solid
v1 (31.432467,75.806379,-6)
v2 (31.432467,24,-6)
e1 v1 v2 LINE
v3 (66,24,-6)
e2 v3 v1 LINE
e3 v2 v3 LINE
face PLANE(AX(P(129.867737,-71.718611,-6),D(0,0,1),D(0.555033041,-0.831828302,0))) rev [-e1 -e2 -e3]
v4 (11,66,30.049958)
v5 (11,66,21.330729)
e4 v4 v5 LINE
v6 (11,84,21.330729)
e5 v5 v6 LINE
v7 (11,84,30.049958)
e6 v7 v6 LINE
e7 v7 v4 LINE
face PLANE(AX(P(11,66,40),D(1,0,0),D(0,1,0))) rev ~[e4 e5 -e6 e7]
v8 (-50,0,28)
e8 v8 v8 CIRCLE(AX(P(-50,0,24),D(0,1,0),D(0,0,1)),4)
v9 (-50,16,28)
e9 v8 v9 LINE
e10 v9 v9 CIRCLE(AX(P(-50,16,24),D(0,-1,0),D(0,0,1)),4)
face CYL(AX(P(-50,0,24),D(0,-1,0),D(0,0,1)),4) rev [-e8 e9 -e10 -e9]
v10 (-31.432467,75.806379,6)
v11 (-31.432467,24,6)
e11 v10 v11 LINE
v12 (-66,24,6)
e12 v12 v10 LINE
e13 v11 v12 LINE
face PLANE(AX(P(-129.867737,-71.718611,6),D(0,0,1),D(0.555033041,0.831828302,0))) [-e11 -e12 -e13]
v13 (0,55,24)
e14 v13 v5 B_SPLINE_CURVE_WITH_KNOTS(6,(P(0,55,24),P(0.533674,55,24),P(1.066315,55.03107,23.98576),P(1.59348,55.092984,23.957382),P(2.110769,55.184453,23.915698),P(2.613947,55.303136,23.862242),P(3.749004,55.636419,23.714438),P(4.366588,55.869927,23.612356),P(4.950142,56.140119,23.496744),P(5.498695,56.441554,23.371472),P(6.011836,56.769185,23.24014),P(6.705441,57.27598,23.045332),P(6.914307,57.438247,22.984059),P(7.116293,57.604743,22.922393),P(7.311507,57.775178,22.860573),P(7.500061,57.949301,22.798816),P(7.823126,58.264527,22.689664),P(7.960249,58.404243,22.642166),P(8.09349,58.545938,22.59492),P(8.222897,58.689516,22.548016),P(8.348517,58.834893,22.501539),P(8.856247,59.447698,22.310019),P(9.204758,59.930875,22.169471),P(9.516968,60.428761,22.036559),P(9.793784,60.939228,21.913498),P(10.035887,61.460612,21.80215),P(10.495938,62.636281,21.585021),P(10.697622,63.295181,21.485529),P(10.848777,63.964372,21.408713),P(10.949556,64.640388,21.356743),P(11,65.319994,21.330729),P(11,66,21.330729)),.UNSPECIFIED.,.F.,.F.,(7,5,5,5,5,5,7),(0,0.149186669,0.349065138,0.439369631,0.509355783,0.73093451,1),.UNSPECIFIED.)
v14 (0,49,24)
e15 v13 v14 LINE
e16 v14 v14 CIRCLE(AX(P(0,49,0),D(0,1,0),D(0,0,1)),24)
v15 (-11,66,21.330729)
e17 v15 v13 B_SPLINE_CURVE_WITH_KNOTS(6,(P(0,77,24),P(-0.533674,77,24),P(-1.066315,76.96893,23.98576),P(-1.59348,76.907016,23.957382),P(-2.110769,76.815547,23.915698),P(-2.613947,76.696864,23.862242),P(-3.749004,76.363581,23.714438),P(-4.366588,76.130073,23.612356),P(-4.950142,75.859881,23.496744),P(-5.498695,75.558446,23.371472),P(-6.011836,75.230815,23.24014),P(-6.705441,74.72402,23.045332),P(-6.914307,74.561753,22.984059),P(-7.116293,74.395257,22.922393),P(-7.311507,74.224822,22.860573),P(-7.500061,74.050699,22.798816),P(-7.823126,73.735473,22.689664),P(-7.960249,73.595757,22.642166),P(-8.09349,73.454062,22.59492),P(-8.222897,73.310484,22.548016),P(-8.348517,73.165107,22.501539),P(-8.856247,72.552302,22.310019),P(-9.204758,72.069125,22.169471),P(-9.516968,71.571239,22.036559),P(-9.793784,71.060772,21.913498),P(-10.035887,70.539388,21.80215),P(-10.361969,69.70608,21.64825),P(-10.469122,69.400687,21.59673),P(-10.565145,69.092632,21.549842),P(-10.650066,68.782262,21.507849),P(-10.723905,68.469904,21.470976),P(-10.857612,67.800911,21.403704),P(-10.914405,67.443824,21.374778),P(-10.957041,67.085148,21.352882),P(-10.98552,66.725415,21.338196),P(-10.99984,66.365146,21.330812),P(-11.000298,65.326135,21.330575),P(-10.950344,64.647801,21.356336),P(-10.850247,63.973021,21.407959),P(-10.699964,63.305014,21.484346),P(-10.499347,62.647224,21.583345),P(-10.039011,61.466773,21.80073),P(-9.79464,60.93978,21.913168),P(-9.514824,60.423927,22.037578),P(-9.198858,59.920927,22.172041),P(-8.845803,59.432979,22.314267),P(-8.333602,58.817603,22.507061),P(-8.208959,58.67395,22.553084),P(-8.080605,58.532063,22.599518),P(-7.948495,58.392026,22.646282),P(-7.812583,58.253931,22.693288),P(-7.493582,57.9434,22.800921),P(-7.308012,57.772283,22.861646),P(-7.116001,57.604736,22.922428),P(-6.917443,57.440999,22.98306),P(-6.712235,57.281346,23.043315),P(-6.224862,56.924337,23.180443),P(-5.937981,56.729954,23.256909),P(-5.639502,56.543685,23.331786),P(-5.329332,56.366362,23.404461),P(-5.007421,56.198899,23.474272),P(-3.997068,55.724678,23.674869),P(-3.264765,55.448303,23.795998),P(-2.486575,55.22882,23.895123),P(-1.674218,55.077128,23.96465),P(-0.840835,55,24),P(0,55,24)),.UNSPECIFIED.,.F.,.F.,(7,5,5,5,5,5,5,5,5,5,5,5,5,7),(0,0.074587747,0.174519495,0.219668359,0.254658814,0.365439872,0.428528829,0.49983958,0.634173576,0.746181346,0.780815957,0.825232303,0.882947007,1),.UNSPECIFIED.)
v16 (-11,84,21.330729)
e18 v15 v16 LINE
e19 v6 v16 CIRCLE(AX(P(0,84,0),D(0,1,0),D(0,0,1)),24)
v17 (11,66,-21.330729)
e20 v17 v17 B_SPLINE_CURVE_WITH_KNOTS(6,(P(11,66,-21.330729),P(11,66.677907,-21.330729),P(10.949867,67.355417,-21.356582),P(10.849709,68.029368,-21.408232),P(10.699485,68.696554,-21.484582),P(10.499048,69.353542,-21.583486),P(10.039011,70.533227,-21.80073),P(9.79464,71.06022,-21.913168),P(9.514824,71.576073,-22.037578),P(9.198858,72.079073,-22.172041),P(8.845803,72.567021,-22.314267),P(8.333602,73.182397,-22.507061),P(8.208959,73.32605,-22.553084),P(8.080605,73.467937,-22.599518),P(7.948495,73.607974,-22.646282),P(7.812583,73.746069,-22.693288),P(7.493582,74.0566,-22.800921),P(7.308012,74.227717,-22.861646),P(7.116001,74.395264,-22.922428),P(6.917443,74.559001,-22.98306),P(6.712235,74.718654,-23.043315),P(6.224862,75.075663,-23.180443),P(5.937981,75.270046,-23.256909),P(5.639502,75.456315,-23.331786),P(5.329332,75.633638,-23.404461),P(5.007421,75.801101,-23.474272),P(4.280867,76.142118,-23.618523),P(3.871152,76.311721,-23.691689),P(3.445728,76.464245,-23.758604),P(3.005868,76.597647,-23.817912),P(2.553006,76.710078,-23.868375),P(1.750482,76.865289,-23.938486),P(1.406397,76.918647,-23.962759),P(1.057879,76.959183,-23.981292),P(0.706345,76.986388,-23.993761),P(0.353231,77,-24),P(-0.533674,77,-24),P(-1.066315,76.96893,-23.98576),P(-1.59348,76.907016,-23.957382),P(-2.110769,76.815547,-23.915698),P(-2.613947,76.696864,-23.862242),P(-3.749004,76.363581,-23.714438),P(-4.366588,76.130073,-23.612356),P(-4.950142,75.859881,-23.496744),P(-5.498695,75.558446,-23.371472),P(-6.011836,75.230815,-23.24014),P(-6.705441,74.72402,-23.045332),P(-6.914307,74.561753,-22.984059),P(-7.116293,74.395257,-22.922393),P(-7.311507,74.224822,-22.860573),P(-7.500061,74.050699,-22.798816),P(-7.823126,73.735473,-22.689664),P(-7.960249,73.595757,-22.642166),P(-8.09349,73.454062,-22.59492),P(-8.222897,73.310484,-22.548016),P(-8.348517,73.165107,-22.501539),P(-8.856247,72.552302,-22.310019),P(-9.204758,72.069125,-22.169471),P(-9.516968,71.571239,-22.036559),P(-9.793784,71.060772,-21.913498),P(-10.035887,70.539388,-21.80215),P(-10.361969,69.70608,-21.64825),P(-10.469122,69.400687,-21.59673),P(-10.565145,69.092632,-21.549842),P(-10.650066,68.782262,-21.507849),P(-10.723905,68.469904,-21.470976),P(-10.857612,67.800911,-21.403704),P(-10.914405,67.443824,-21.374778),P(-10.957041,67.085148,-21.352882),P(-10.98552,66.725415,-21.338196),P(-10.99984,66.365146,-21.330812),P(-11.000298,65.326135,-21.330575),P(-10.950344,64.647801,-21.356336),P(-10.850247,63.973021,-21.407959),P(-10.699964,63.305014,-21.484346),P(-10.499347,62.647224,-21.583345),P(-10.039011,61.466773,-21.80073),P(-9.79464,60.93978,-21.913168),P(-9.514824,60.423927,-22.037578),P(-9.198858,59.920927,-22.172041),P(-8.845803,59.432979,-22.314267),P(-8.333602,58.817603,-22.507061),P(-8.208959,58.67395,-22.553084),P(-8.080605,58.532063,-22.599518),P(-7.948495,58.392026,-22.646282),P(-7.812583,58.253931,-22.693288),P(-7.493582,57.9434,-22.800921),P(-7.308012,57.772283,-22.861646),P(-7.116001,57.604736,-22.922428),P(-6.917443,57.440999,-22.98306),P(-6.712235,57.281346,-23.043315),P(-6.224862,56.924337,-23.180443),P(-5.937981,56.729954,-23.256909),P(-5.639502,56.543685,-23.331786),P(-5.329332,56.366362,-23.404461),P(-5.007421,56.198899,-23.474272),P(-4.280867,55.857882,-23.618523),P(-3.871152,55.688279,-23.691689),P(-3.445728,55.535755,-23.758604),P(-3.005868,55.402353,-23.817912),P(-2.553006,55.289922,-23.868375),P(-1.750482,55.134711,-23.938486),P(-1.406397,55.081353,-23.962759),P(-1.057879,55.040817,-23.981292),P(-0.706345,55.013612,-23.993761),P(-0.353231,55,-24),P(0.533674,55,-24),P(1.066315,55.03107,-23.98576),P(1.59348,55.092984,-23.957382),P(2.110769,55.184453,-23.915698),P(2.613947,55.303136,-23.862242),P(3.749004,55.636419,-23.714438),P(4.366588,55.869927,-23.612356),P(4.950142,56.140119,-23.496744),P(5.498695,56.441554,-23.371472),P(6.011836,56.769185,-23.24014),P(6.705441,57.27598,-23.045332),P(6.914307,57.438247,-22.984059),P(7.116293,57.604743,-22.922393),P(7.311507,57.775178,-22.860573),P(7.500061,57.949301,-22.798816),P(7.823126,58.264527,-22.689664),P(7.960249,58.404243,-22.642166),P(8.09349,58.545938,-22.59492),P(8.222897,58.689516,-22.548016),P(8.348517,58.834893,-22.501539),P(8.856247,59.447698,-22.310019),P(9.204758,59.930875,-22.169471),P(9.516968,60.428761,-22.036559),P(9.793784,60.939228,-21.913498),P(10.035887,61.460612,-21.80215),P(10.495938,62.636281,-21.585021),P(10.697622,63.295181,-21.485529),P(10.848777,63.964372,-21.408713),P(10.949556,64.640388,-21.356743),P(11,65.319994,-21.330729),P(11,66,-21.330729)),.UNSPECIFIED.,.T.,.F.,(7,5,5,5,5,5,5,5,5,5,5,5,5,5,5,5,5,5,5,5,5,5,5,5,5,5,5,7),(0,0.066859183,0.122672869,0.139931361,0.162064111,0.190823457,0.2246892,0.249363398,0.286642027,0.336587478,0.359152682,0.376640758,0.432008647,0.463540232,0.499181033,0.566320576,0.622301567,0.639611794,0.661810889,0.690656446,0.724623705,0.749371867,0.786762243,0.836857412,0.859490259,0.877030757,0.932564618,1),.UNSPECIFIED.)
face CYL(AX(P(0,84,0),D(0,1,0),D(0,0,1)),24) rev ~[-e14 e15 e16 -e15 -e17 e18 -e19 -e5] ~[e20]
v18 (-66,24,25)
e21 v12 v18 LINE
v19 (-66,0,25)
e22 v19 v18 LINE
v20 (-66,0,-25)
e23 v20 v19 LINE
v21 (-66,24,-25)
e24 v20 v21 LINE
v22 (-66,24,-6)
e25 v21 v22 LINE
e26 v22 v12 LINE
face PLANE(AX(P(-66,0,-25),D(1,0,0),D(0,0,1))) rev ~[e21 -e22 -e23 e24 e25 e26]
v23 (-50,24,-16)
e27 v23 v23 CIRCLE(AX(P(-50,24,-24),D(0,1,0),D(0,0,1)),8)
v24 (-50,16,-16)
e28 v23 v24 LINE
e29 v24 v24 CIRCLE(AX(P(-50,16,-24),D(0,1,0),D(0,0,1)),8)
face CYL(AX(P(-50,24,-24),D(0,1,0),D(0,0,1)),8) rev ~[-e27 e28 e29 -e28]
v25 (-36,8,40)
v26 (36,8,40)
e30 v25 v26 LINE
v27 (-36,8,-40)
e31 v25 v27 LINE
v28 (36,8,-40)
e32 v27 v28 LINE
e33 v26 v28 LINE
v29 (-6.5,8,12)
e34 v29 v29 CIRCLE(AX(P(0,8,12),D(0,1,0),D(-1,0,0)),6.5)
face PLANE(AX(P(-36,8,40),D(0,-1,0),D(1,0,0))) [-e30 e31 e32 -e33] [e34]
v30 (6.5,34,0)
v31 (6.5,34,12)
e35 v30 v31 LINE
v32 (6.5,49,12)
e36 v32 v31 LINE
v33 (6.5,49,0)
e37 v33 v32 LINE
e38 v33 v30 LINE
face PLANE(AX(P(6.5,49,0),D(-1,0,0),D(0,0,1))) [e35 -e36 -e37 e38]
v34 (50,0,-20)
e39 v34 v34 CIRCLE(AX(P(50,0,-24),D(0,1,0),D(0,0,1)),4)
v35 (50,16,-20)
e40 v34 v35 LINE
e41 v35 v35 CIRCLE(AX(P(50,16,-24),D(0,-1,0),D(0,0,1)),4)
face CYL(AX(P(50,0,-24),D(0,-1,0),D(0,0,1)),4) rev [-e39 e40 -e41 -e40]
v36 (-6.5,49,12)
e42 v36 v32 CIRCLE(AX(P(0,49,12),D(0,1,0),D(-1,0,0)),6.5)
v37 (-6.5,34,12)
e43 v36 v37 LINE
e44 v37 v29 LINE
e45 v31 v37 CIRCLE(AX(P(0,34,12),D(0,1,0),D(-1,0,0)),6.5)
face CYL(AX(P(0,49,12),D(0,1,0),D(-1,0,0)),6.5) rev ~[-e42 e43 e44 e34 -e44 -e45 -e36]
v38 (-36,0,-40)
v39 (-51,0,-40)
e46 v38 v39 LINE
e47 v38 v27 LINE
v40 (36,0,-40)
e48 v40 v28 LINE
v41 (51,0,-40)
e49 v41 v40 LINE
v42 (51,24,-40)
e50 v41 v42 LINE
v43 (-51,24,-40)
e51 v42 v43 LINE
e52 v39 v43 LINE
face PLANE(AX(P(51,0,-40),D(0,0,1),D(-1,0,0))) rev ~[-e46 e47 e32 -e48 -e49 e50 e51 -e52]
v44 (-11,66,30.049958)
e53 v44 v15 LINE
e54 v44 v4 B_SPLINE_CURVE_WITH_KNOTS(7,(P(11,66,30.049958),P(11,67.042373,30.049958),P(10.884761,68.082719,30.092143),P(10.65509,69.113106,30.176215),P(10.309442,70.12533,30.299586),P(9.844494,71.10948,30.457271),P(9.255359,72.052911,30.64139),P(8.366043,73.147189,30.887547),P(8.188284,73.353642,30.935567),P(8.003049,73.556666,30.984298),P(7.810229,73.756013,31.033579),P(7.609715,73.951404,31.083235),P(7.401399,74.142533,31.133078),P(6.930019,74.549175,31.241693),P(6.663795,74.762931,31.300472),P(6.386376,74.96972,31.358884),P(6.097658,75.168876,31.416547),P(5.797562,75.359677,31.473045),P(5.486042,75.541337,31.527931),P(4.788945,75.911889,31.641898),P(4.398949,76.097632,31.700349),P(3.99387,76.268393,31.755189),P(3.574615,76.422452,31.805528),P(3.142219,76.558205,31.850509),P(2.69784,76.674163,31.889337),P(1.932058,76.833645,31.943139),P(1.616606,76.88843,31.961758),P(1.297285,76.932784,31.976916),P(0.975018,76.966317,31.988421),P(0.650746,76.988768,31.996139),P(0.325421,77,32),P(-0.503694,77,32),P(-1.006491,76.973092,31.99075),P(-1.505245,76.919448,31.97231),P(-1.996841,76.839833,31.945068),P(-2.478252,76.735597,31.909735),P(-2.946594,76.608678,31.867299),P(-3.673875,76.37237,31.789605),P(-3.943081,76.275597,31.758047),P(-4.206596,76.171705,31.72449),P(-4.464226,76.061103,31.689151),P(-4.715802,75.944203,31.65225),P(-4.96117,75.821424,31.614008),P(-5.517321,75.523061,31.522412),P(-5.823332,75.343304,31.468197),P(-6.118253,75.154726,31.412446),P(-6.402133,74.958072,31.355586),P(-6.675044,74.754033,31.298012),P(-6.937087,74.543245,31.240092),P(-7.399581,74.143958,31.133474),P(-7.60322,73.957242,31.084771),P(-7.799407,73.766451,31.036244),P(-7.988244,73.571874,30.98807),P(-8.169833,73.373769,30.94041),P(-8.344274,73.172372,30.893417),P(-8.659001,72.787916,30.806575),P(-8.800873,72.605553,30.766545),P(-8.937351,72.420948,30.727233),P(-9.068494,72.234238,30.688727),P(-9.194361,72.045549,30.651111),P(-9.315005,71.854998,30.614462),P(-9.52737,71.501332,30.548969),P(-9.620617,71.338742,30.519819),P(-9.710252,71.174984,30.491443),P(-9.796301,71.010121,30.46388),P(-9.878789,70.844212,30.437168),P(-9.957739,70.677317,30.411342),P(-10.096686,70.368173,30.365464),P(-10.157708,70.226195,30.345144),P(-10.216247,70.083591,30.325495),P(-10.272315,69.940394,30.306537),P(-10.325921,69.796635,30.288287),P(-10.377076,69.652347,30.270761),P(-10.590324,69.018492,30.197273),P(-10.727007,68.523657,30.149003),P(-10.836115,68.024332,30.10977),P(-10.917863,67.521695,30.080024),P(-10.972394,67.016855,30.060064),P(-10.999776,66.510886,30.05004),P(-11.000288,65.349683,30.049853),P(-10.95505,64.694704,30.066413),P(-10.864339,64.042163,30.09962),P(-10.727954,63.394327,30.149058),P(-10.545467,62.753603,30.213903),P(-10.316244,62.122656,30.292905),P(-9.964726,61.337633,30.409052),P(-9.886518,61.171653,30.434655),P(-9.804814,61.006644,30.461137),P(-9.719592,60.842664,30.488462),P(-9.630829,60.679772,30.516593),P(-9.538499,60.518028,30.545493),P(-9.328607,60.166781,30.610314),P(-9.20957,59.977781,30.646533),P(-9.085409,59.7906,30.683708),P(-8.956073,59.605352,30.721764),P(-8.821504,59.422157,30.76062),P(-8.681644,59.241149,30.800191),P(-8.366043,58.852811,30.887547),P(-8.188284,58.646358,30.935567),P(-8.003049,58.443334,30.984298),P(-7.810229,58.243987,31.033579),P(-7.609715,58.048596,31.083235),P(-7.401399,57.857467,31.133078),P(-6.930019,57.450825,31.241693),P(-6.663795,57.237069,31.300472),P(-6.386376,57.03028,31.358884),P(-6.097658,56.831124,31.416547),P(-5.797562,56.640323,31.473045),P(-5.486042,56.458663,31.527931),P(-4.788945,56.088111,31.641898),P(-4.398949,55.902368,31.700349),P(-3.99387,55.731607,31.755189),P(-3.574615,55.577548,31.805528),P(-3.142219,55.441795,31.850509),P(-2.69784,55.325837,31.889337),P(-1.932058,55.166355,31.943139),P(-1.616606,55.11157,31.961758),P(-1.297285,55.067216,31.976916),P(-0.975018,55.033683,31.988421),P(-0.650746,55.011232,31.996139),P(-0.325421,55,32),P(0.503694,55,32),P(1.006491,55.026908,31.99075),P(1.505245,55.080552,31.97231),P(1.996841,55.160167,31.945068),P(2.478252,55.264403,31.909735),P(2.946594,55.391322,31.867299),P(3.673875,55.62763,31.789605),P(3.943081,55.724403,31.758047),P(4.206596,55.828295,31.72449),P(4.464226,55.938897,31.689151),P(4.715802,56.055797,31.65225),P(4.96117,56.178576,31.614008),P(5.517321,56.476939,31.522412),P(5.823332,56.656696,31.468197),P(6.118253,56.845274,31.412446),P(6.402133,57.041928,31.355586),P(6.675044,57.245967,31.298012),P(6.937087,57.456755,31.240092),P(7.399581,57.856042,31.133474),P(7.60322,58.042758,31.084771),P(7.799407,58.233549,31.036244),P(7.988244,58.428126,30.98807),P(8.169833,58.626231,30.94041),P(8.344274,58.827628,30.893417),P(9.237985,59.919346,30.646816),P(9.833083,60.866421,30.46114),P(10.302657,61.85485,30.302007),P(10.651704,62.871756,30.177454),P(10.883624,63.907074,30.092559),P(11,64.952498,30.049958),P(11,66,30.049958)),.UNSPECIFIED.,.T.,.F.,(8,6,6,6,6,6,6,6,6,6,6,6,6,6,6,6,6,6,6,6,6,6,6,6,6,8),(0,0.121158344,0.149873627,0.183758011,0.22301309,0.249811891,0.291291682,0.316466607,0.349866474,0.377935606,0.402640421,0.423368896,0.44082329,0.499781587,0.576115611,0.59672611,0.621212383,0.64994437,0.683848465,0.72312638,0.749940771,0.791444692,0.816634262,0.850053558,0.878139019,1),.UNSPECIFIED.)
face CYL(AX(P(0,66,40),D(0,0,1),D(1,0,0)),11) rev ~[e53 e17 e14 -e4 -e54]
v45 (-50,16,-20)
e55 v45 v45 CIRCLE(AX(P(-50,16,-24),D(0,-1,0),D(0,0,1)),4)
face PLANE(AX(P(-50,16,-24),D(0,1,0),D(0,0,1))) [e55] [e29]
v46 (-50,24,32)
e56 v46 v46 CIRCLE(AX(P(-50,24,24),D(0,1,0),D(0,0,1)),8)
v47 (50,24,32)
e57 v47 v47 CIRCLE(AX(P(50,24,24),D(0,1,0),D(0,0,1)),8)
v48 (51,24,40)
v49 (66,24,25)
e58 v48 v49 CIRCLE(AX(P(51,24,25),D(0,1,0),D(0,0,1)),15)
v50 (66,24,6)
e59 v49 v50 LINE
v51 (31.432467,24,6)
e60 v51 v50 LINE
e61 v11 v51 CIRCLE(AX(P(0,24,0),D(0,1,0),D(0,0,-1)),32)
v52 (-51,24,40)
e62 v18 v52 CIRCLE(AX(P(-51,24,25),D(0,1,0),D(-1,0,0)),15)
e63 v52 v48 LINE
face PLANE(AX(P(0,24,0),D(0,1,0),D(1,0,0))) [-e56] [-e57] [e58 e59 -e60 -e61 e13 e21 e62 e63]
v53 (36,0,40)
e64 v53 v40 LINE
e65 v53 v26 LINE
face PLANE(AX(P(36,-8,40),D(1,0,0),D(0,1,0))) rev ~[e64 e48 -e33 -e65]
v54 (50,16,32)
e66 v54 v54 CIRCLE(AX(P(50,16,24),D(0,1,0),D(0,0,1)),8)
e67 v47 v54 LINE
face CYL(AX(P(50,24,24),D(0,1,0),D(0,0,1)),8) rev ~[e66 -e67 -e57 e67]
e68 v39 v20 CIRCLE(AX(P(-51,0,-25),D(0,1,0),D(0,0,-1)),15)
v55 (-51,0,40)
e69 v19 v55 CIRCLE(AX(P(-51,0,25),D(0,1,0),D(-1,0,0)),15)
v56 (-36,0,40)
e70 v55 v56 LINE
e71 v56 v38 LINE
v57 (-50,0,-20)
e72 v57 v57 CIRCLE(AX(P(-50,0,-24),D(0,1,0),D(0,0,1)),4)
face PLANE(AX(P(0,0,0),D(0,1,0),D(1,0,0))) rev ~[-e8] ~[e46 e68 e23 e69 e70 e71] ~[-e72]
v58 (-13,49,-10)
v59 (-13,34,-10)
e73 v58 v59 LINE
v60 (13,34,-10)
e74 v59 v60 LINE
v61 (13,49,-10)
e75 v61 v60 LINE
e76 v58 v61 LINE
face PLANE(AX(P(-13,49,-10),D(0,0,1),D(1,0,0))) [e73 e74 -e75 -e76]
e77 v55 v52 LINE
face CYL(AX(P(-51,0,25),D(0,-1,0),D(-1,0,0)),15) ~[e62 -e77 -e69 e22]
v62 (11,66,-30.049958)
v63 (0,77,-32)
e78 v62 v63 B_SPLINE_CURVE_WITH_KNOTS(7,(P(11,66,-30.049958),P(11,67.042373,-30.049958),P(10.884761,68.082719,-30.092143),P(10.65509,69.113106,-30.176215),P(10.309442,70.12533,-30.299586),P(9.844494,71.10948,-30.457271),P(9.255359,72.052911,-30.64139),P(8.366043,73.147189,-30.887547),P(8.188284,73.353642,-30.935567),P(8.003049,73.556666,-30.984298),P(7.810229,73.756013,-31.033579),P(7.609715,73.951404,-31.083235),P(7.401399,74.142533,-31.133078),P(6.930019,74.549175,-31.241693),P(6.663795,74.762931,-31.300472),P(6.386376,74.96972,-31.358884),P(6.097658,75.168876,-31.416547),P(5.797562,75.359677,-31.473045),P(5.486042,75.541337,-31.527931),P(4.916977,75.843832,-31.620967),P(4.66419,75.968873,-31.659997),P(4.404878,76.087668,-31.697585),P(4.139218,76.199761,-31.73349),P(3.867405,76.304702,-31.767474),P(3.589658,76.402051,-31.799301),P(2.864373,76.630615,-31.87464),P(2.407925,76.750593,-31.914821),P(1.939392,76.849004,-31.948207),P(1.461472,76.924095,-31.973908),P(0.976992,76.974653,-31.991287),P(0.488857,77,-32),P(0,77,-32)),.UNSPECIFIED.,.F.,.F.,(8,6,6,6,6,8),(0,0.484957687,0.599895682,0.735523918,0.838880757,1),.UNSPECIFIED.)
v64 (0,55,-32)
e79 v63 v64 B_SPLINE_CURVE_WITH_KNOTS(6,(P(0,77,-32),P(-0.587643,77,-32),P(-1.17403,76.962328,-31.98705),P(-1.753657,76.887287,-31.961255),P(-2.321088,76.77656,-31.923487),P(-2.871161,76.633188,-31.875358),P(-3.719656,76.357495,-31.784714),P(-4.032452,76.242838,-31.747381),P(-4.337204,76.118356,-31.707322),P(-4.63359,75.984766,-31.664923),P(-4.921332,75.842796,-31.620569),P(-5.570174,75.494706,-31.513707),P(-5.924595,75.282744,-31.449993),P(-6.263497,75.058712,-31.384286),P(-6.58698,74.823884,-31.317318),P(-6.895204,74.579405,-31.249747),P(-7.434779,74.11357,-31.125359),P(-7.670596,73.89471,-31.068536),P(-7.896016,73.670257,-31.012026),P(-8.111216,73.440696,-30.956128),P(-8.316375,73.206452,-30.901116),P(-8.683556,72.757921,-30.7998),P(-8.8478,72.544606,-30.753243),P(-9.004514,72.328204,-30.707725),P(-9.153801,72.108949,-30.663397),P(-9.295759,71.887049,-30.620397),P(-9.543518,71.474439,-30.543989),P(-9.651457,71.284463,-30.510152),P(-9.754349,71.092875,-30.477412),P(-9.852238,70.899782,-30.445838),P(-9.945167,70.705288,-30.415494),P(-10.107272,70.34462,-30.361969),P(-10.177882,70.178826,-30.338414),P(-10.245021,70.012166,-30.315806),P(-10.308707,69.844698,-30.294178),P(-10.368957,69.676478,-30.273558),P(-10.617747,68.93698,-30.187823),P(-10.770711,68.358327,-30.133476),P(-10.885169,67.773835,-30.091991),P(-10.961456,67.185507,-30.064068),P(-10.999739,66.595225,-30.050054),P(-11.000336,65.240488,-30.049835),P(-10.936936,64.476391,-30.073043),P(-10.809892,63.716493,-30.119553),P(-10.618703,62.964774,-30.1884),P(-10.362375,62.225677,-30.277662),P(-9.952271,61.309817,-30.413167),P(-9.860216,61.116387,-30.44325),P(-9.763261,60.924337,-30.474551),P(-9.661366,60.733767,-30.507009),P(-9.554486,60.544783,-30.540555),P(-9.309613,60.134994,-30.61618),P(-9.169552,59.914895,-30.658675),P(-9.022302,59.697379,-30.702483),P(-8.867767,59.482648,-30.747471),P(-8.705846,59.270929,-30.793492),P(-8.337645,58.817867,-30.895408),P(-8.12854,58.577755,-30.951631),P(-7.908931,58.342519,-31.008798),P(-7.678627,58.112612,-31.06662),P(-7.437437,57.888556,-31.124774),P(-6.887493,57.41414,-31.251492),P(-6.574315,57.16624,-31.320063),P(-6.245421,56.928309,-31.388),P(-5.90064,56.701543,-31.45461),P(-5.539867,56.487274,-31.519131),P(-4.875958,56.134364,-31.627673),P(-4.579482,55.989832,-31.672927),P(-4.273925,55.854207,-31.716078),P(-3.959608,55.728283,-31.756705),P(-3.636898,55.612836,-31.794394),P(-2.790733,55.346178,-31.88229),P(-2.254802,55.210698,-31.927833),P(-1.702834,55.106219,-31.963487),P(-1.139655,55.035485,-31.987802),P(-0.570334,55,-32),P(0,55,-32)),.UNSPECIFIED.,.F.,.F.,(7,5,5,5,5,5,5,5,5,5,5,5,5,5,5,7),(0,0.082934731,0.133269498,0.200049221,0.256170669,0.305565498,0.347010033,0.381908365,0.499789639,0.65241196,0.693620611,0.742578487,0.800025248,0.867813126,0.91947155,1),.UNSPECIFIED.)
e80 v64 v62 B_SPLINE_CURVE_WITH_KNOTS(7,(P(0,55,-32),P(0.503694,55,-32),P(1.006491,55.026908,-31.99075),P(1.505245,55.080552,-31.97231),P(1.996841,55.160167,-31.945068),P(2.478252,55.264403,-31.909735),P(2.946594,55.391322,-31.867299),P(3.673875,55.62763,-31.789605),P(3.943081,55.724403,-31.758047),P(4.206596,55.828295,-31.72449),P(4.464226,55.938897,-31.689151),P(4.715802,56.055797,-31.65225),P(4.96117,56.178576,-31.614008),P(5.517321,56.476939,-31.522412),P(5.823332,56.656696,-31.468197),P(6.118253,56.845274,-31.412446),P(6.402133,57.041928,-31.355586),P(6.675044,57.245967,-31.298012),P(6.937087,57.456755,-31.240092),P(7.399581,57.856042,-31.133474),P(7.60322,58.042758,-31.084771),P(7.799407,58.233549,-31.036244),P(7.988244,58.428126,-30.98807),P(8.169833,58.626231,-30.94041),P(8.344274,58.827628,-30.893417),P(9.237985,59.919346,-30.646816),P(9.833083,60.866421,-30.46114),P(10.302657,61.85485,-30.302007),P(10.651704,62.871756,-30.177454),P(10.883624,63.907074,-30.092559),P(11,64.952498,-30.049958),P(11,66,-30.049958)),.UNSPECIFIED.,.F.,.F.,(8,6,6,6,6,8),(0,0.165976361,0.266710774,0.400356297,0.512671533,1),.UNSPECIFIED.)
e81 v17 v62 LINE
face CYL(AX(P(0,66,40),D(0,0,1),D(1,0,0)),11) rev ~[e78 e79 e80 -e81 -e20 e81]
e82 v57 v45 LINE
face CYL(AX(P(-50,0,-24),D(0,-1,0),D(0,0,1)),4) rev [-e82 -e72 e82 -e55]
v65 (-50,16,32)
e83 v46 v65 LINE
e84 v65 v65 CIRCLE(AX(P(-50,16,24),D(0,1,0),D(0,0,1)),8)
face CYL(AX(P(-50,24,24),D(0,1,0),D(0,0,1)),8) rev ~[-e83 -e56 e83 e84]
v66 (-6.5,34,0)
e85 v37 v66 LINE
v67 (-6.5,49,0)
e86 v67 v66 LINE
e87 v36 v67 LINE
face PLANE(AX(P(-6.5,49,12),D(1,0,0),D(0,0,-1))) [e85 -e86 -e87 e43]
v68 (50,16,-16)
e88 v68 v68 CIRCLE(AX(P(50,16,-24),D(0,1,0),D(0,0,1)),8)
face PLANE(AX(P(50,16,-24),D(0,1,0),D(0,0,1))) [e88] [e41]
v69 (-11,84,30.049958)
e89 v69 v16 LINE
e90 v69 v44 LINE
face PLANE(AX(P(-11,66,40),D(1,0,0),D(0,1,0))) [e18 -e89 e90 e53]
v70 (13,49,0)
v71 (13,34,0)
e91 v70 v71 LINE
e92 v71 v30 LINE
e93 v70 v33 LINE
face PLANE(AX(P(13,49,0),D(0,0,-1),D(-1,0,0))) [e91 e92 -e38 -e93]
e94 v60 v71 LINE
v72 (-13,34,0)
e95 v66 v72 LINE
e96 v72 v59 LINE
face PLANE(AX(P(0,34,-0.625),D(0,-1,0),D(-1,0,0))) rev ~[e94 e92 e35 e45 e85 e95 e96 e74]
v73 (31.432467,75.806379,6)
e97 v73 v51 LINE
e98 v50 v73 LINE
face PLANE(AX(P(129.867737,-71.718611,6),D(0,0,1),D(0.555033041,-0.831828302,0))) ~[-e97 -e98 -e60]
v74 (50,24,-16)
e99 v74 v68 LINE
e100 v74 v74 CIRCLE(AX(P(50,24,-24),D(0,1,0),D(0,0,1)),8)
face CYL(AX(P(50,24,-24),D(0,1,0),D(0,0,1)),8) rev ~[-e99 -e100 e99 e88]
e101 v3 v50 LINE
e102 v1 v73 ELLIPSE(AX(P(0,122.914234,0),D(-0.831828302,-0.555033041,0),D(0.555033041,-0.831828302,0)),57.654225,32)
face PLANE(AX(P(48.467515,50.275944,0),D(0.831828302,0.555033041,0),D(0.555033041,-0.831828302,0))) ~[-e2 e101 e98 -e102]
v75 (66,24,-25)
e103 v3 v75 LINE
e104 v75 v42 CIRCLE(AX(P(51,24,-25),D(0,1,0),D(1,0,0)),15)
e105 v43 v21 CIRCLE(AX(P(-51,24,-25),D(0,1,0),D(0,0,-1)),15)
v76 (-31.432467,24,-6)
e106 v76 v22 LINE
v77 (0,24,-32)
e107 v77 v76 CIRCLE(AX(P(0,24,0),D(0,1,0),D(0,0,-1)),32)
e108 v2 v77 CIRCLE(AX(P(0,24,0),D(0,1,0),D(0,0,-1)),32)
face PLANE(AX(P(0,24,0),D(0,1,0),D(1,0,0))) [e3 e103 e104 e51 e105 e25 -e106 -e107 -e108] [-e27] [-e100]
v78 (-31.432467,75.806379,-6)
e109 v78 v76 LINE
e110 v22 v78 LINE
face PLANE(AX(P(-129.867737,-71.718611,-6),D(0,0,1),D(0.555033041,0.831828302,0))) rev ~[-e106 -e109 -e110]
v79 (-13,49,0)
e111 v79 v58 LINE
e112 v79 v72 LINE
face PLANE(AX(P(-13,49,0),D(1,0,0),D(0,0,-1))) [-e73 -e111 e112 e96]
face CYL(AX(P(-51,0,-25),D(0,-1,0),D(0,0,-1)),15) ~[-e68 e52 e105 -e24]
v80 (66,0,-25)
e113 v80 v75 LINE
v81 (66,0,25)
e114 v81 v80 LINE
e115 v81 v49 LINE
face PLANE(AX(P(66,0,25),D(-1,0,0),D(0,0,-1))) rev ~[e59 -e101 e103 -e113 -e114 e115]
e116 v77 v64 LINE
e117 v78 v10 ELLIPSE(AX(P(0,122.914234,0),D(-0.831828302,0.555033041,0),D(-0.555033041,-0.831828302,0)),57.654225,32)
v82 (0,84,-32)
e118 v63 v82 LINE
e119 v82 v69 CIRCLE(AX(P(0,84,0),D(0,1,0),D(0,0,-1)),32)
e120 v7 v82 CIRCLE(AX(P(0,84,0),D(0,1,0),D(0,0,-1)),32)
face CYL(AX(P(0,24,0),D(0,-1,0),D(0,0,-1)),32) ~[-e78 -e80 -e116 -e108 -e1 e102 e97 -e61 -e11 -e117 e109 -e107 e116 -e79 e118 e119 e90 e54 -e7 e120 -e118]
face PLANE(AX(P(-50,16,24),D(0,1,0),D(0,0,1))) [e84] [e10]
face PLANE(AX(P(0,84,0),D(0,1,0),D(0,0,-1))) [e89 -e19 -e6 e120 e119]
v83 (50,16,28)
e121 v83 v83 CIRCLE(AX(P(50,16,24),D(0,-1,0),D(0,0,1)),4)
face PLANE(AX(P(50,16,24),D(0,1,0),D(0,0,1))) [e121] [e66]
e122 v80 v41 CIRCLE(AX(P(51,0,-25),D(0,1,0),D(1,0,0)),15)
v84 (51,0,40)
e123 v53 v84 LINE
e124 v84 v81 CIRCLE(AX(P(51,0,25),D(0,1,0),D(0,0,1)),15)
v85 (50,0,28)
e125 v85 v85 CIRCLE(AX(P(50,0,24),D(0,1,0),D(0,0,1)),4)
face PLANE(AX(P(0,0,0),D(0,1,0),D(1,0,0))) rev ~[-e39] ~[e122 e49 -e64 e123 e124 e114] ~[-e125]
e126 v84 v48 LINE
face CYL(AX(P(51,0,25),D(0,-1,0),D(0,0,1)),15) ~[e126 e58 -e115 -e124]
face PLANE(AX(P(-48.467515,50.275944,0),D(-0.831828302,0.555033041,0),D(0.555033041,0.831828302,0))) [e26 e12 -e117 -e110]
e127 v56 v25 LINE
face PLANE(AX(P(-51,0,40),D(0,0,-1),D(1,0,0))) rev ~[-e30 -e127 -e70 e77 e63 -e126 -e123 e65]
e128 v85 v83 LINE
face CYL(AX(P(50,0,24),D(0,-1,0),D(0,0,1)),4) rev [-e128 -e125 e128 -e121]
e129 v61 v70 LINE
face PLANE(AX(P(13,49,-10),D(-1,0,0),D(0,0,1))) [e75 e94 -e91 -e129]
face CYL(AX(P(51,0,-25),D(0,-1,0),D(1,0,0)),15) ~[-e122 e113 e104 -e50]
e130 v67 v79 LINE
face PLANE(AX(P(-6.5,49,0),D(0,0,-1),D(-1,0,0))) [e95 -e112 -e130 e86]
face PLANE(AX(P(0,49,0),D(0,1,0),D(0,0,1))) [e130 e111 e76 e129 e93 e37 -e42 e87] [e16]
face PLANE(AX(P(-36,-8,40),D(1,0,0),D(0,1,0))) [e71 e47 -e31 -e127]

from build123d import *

# Parameters (mm, degrees)
SKETCH_1_R          = 4
EXTRUDE_1_DEPTH     = 24
SKETCH_2_W          = 72
SKETCH_2_H          = 16
CUT_EXTRUDE_1_DEPTH = 107.451867057
SKETCH_3_R          = 8
CUT_EXTRUDE_2_DEPTH = 8
SKETCH_5_R          = 32
EXTRUDE_2_DEPTH     = 60
SKETCH_6_R          = 24
CUT_EXTRUDE_3_DEPTH = 35
CUT_EXTRUDE_4_DEPTH = 15
SKETCH_8_R          = 6.5
CUT_EXTRUDE_5_DEPTH = 86
SKETCH_9_R          = 11
CUT_EXTRUDE_6_DEPTH = 86
SKETCH_10_W         = 22
SKETCH_10_H         = 21.722562354
CUT_EXTRUDE_7_DEPTH = 38
RIB_8_REACH         = 116.07
SKETCH_12_WALL_W    = 293.316673134
SKETCH_12_WALL_H    = 12


with BuildPart() as part:
    # 草图1 → 凸台-拉伸1 (new body)
    with BuildSketch(Plane(origin=(0, 0, 0), x_dir=(1, 0, 0), z_dir=(0, 1, 0))):
        with BuildLine():
            Line((51, 40), (-51, 40))
            ThreePointArc((-51, 40), (-61.606601718, 35.606601718), (-66, 25))
            Line((-66, 25), (-66, -25))
            ThreePointArc((-66, -25), (-61.606601718, -35.606601718), (-51, -40))
            Line((-51, -40), (51, -40))
            ThreePointArc((51, -40), (61.606601718, -35.606601718), (66, -25))
            Line((66, -25), (66, 25))
            ThreePointArc((66, 25), (61.606601718, 35.606601718), (51, 40))
        make_face()
        with Locations(Location((-50, 24, 0), (0, 0, 270))):
            Circle(SKETCH_1_R, mode=Mode.SUBTRACT)
        with Locations(Location((50, 24, 0), (0, 0, 270))):
            Circle(SKETCH_1_R, mode=Mode.SUBTRACT)
        with Locations(Location((50, -24, 0), (0, 0, 270))):
            Circle(SKETCH_1_R, mode=Mode.SUBTRACT)
        with Locations(Location((-50, -24, 0), (0, 0, 270))):
            Circle(SKETCH_1_R, mode=Mode.SUBTRACT)
    extrude(amount=EXTRUDE_1_DEPTH)

    # 草图2 → 切除-拉伸1 (cut, through all)
    with BuildSketch(Plane.XY.offset(40)):
        Rectangle(SKETCH_2_W, SKETCH_2_H)
    extrude(amount=-CUT_EXTRUDE_1_DEPTH, mode=Mode.SUBTRACT)

    # 草图3 → 切除-拉伸2 (cut)
    with BuildSketch(Plane(origin=(0, 24, 0), x_dir=(1, 0, 0), z_dir=(0, 1, 0))):
        with Locations(Location((-50, 24, 0), (0, 0, 270))):
            Circle(SKETCH_3_R)
        with Locations(Location((50, 24, 0), (0, 0, 270))):
            Circle(SKETCH_3_R)
        with Locations(Location((50, -24, 0), (0, 0, 270))):
            Circle(SKETCH_3_R)
        with Locations(Location((-50, -24, 0), (0, 0, 270))):
            Circle(SKETCH_3_R)
    extrude(amount=-CUT_EXTRUDE_2_DEPTH, mode=Mode.SUBTRACT)

    # 草图5 → 凸台-拉伸2 (add)
    with BuildSketch(Plane(origin=(0, 24, 0), x_dir=(1, 0, 0), z_dir=(0, 1, 0))):
        with Locations(Location((0, 0, 0), (0, 0, 90))):
            Circle(SKETCH_5_R)
    extrude(amount=EXTRUDE_2_DEPTH)

    # 草图6 → 切除-拉伸3 (cut)
    with BuildSketch(Plane(origin=(0, 84, 0), x_dir=(1, 0, 0), z_dir=(0, 1, 0))):
        with Locations(Location((0, 0, 0), (0, 0, 270))):
            Circle(SKETCH_6_R)
    extrude(amount=-CUT_EXTRUDE_3_DEPTH, mode=Mode.SUBTRACT)

    # 草图7 → 切除-拉伸4 (cut)
    with BuildSketch(Plane(origin=(0, 49, 0), x_dir=(1, 0, 0), z_dir=(0, 1, 0))):
        Polygon((6.5, -12), (-6.5, -12), (-6.5, 0), (-13, 0), (-13, 10), (13, 10), (13, 0), (6.5, 0), align=None)
    extrude(amount=-CUT_EXTRUDE_4_DEPTH, mode=Mode.SUBTRACT)

    # 草图8 → 切除-拉伸5 (cut)
    with BuildSketch(Plane(origin=(0, 49, 0), x_dir=(1, 0, 0), z_dir=(0, 1, 0))):
        with Locations(Location((0, -12, 0), (0, 0, 180))):
            Circle(SKETCH_8_R)
    extrude(amount=-CUT_EXTRUDE_5_DEPTH, mode=Mode.SUBTRACT)

    # 草图9 → 切除-拉伸6 (cut)
    with BuildSketch(Plane.XY.offset(40)):
        with Locations((0, 66)):
            Circle(SKETCH_9_R)
    extrude(amount=-CUT_EXTRUDE_6_DEPTH, mode=Mode.SUBTRACT)

    # 草图10 → 切除-拉伸7 (cut)
    with BuildSketch(Plane.XY.offset(40)):
        with Locations((0, 76.861281177)):
            Rectangle(SKETCH_10_W, SKETCH_10_H)
    extrude(amount=-CUT_EXTRUDE_7_DEPTH, mode=Mode.SUBTRACT)

    # 草图12 wall → 筋8 (add, up to next)
    with BuildSketch(Plane(origin=(-48.467514941, 50.275944325, 0), x_dir=(0.555033040636, 0.831828301876, 0), z_dir=(-0.831828301876, 0.555033040636, 0)), mode=Mode.PRIVATE) as rib_8_sk1:
        Rectangle(SKETCH_12_WALL_W, SKETCH_12_WALL_H)
    rib_8_tool1 = extrude(rib_8_sk1.sketch, amount=-RIB_8_REACH, mode=Mode.PRIVATE) - part.part
    rib_8 = rib_8_tool1.solids().sort_by_distance((-48.467514941, 50.275944325, 0))[0]
    add(rib_8)

    # 镜向2: 筋8 across plane
    add(rib_8.mirror(Plane(origin=(0, 0, 0), x_dir=(0, 0, 1), z_dir=(1, 0, 0))))


solid = part.part
